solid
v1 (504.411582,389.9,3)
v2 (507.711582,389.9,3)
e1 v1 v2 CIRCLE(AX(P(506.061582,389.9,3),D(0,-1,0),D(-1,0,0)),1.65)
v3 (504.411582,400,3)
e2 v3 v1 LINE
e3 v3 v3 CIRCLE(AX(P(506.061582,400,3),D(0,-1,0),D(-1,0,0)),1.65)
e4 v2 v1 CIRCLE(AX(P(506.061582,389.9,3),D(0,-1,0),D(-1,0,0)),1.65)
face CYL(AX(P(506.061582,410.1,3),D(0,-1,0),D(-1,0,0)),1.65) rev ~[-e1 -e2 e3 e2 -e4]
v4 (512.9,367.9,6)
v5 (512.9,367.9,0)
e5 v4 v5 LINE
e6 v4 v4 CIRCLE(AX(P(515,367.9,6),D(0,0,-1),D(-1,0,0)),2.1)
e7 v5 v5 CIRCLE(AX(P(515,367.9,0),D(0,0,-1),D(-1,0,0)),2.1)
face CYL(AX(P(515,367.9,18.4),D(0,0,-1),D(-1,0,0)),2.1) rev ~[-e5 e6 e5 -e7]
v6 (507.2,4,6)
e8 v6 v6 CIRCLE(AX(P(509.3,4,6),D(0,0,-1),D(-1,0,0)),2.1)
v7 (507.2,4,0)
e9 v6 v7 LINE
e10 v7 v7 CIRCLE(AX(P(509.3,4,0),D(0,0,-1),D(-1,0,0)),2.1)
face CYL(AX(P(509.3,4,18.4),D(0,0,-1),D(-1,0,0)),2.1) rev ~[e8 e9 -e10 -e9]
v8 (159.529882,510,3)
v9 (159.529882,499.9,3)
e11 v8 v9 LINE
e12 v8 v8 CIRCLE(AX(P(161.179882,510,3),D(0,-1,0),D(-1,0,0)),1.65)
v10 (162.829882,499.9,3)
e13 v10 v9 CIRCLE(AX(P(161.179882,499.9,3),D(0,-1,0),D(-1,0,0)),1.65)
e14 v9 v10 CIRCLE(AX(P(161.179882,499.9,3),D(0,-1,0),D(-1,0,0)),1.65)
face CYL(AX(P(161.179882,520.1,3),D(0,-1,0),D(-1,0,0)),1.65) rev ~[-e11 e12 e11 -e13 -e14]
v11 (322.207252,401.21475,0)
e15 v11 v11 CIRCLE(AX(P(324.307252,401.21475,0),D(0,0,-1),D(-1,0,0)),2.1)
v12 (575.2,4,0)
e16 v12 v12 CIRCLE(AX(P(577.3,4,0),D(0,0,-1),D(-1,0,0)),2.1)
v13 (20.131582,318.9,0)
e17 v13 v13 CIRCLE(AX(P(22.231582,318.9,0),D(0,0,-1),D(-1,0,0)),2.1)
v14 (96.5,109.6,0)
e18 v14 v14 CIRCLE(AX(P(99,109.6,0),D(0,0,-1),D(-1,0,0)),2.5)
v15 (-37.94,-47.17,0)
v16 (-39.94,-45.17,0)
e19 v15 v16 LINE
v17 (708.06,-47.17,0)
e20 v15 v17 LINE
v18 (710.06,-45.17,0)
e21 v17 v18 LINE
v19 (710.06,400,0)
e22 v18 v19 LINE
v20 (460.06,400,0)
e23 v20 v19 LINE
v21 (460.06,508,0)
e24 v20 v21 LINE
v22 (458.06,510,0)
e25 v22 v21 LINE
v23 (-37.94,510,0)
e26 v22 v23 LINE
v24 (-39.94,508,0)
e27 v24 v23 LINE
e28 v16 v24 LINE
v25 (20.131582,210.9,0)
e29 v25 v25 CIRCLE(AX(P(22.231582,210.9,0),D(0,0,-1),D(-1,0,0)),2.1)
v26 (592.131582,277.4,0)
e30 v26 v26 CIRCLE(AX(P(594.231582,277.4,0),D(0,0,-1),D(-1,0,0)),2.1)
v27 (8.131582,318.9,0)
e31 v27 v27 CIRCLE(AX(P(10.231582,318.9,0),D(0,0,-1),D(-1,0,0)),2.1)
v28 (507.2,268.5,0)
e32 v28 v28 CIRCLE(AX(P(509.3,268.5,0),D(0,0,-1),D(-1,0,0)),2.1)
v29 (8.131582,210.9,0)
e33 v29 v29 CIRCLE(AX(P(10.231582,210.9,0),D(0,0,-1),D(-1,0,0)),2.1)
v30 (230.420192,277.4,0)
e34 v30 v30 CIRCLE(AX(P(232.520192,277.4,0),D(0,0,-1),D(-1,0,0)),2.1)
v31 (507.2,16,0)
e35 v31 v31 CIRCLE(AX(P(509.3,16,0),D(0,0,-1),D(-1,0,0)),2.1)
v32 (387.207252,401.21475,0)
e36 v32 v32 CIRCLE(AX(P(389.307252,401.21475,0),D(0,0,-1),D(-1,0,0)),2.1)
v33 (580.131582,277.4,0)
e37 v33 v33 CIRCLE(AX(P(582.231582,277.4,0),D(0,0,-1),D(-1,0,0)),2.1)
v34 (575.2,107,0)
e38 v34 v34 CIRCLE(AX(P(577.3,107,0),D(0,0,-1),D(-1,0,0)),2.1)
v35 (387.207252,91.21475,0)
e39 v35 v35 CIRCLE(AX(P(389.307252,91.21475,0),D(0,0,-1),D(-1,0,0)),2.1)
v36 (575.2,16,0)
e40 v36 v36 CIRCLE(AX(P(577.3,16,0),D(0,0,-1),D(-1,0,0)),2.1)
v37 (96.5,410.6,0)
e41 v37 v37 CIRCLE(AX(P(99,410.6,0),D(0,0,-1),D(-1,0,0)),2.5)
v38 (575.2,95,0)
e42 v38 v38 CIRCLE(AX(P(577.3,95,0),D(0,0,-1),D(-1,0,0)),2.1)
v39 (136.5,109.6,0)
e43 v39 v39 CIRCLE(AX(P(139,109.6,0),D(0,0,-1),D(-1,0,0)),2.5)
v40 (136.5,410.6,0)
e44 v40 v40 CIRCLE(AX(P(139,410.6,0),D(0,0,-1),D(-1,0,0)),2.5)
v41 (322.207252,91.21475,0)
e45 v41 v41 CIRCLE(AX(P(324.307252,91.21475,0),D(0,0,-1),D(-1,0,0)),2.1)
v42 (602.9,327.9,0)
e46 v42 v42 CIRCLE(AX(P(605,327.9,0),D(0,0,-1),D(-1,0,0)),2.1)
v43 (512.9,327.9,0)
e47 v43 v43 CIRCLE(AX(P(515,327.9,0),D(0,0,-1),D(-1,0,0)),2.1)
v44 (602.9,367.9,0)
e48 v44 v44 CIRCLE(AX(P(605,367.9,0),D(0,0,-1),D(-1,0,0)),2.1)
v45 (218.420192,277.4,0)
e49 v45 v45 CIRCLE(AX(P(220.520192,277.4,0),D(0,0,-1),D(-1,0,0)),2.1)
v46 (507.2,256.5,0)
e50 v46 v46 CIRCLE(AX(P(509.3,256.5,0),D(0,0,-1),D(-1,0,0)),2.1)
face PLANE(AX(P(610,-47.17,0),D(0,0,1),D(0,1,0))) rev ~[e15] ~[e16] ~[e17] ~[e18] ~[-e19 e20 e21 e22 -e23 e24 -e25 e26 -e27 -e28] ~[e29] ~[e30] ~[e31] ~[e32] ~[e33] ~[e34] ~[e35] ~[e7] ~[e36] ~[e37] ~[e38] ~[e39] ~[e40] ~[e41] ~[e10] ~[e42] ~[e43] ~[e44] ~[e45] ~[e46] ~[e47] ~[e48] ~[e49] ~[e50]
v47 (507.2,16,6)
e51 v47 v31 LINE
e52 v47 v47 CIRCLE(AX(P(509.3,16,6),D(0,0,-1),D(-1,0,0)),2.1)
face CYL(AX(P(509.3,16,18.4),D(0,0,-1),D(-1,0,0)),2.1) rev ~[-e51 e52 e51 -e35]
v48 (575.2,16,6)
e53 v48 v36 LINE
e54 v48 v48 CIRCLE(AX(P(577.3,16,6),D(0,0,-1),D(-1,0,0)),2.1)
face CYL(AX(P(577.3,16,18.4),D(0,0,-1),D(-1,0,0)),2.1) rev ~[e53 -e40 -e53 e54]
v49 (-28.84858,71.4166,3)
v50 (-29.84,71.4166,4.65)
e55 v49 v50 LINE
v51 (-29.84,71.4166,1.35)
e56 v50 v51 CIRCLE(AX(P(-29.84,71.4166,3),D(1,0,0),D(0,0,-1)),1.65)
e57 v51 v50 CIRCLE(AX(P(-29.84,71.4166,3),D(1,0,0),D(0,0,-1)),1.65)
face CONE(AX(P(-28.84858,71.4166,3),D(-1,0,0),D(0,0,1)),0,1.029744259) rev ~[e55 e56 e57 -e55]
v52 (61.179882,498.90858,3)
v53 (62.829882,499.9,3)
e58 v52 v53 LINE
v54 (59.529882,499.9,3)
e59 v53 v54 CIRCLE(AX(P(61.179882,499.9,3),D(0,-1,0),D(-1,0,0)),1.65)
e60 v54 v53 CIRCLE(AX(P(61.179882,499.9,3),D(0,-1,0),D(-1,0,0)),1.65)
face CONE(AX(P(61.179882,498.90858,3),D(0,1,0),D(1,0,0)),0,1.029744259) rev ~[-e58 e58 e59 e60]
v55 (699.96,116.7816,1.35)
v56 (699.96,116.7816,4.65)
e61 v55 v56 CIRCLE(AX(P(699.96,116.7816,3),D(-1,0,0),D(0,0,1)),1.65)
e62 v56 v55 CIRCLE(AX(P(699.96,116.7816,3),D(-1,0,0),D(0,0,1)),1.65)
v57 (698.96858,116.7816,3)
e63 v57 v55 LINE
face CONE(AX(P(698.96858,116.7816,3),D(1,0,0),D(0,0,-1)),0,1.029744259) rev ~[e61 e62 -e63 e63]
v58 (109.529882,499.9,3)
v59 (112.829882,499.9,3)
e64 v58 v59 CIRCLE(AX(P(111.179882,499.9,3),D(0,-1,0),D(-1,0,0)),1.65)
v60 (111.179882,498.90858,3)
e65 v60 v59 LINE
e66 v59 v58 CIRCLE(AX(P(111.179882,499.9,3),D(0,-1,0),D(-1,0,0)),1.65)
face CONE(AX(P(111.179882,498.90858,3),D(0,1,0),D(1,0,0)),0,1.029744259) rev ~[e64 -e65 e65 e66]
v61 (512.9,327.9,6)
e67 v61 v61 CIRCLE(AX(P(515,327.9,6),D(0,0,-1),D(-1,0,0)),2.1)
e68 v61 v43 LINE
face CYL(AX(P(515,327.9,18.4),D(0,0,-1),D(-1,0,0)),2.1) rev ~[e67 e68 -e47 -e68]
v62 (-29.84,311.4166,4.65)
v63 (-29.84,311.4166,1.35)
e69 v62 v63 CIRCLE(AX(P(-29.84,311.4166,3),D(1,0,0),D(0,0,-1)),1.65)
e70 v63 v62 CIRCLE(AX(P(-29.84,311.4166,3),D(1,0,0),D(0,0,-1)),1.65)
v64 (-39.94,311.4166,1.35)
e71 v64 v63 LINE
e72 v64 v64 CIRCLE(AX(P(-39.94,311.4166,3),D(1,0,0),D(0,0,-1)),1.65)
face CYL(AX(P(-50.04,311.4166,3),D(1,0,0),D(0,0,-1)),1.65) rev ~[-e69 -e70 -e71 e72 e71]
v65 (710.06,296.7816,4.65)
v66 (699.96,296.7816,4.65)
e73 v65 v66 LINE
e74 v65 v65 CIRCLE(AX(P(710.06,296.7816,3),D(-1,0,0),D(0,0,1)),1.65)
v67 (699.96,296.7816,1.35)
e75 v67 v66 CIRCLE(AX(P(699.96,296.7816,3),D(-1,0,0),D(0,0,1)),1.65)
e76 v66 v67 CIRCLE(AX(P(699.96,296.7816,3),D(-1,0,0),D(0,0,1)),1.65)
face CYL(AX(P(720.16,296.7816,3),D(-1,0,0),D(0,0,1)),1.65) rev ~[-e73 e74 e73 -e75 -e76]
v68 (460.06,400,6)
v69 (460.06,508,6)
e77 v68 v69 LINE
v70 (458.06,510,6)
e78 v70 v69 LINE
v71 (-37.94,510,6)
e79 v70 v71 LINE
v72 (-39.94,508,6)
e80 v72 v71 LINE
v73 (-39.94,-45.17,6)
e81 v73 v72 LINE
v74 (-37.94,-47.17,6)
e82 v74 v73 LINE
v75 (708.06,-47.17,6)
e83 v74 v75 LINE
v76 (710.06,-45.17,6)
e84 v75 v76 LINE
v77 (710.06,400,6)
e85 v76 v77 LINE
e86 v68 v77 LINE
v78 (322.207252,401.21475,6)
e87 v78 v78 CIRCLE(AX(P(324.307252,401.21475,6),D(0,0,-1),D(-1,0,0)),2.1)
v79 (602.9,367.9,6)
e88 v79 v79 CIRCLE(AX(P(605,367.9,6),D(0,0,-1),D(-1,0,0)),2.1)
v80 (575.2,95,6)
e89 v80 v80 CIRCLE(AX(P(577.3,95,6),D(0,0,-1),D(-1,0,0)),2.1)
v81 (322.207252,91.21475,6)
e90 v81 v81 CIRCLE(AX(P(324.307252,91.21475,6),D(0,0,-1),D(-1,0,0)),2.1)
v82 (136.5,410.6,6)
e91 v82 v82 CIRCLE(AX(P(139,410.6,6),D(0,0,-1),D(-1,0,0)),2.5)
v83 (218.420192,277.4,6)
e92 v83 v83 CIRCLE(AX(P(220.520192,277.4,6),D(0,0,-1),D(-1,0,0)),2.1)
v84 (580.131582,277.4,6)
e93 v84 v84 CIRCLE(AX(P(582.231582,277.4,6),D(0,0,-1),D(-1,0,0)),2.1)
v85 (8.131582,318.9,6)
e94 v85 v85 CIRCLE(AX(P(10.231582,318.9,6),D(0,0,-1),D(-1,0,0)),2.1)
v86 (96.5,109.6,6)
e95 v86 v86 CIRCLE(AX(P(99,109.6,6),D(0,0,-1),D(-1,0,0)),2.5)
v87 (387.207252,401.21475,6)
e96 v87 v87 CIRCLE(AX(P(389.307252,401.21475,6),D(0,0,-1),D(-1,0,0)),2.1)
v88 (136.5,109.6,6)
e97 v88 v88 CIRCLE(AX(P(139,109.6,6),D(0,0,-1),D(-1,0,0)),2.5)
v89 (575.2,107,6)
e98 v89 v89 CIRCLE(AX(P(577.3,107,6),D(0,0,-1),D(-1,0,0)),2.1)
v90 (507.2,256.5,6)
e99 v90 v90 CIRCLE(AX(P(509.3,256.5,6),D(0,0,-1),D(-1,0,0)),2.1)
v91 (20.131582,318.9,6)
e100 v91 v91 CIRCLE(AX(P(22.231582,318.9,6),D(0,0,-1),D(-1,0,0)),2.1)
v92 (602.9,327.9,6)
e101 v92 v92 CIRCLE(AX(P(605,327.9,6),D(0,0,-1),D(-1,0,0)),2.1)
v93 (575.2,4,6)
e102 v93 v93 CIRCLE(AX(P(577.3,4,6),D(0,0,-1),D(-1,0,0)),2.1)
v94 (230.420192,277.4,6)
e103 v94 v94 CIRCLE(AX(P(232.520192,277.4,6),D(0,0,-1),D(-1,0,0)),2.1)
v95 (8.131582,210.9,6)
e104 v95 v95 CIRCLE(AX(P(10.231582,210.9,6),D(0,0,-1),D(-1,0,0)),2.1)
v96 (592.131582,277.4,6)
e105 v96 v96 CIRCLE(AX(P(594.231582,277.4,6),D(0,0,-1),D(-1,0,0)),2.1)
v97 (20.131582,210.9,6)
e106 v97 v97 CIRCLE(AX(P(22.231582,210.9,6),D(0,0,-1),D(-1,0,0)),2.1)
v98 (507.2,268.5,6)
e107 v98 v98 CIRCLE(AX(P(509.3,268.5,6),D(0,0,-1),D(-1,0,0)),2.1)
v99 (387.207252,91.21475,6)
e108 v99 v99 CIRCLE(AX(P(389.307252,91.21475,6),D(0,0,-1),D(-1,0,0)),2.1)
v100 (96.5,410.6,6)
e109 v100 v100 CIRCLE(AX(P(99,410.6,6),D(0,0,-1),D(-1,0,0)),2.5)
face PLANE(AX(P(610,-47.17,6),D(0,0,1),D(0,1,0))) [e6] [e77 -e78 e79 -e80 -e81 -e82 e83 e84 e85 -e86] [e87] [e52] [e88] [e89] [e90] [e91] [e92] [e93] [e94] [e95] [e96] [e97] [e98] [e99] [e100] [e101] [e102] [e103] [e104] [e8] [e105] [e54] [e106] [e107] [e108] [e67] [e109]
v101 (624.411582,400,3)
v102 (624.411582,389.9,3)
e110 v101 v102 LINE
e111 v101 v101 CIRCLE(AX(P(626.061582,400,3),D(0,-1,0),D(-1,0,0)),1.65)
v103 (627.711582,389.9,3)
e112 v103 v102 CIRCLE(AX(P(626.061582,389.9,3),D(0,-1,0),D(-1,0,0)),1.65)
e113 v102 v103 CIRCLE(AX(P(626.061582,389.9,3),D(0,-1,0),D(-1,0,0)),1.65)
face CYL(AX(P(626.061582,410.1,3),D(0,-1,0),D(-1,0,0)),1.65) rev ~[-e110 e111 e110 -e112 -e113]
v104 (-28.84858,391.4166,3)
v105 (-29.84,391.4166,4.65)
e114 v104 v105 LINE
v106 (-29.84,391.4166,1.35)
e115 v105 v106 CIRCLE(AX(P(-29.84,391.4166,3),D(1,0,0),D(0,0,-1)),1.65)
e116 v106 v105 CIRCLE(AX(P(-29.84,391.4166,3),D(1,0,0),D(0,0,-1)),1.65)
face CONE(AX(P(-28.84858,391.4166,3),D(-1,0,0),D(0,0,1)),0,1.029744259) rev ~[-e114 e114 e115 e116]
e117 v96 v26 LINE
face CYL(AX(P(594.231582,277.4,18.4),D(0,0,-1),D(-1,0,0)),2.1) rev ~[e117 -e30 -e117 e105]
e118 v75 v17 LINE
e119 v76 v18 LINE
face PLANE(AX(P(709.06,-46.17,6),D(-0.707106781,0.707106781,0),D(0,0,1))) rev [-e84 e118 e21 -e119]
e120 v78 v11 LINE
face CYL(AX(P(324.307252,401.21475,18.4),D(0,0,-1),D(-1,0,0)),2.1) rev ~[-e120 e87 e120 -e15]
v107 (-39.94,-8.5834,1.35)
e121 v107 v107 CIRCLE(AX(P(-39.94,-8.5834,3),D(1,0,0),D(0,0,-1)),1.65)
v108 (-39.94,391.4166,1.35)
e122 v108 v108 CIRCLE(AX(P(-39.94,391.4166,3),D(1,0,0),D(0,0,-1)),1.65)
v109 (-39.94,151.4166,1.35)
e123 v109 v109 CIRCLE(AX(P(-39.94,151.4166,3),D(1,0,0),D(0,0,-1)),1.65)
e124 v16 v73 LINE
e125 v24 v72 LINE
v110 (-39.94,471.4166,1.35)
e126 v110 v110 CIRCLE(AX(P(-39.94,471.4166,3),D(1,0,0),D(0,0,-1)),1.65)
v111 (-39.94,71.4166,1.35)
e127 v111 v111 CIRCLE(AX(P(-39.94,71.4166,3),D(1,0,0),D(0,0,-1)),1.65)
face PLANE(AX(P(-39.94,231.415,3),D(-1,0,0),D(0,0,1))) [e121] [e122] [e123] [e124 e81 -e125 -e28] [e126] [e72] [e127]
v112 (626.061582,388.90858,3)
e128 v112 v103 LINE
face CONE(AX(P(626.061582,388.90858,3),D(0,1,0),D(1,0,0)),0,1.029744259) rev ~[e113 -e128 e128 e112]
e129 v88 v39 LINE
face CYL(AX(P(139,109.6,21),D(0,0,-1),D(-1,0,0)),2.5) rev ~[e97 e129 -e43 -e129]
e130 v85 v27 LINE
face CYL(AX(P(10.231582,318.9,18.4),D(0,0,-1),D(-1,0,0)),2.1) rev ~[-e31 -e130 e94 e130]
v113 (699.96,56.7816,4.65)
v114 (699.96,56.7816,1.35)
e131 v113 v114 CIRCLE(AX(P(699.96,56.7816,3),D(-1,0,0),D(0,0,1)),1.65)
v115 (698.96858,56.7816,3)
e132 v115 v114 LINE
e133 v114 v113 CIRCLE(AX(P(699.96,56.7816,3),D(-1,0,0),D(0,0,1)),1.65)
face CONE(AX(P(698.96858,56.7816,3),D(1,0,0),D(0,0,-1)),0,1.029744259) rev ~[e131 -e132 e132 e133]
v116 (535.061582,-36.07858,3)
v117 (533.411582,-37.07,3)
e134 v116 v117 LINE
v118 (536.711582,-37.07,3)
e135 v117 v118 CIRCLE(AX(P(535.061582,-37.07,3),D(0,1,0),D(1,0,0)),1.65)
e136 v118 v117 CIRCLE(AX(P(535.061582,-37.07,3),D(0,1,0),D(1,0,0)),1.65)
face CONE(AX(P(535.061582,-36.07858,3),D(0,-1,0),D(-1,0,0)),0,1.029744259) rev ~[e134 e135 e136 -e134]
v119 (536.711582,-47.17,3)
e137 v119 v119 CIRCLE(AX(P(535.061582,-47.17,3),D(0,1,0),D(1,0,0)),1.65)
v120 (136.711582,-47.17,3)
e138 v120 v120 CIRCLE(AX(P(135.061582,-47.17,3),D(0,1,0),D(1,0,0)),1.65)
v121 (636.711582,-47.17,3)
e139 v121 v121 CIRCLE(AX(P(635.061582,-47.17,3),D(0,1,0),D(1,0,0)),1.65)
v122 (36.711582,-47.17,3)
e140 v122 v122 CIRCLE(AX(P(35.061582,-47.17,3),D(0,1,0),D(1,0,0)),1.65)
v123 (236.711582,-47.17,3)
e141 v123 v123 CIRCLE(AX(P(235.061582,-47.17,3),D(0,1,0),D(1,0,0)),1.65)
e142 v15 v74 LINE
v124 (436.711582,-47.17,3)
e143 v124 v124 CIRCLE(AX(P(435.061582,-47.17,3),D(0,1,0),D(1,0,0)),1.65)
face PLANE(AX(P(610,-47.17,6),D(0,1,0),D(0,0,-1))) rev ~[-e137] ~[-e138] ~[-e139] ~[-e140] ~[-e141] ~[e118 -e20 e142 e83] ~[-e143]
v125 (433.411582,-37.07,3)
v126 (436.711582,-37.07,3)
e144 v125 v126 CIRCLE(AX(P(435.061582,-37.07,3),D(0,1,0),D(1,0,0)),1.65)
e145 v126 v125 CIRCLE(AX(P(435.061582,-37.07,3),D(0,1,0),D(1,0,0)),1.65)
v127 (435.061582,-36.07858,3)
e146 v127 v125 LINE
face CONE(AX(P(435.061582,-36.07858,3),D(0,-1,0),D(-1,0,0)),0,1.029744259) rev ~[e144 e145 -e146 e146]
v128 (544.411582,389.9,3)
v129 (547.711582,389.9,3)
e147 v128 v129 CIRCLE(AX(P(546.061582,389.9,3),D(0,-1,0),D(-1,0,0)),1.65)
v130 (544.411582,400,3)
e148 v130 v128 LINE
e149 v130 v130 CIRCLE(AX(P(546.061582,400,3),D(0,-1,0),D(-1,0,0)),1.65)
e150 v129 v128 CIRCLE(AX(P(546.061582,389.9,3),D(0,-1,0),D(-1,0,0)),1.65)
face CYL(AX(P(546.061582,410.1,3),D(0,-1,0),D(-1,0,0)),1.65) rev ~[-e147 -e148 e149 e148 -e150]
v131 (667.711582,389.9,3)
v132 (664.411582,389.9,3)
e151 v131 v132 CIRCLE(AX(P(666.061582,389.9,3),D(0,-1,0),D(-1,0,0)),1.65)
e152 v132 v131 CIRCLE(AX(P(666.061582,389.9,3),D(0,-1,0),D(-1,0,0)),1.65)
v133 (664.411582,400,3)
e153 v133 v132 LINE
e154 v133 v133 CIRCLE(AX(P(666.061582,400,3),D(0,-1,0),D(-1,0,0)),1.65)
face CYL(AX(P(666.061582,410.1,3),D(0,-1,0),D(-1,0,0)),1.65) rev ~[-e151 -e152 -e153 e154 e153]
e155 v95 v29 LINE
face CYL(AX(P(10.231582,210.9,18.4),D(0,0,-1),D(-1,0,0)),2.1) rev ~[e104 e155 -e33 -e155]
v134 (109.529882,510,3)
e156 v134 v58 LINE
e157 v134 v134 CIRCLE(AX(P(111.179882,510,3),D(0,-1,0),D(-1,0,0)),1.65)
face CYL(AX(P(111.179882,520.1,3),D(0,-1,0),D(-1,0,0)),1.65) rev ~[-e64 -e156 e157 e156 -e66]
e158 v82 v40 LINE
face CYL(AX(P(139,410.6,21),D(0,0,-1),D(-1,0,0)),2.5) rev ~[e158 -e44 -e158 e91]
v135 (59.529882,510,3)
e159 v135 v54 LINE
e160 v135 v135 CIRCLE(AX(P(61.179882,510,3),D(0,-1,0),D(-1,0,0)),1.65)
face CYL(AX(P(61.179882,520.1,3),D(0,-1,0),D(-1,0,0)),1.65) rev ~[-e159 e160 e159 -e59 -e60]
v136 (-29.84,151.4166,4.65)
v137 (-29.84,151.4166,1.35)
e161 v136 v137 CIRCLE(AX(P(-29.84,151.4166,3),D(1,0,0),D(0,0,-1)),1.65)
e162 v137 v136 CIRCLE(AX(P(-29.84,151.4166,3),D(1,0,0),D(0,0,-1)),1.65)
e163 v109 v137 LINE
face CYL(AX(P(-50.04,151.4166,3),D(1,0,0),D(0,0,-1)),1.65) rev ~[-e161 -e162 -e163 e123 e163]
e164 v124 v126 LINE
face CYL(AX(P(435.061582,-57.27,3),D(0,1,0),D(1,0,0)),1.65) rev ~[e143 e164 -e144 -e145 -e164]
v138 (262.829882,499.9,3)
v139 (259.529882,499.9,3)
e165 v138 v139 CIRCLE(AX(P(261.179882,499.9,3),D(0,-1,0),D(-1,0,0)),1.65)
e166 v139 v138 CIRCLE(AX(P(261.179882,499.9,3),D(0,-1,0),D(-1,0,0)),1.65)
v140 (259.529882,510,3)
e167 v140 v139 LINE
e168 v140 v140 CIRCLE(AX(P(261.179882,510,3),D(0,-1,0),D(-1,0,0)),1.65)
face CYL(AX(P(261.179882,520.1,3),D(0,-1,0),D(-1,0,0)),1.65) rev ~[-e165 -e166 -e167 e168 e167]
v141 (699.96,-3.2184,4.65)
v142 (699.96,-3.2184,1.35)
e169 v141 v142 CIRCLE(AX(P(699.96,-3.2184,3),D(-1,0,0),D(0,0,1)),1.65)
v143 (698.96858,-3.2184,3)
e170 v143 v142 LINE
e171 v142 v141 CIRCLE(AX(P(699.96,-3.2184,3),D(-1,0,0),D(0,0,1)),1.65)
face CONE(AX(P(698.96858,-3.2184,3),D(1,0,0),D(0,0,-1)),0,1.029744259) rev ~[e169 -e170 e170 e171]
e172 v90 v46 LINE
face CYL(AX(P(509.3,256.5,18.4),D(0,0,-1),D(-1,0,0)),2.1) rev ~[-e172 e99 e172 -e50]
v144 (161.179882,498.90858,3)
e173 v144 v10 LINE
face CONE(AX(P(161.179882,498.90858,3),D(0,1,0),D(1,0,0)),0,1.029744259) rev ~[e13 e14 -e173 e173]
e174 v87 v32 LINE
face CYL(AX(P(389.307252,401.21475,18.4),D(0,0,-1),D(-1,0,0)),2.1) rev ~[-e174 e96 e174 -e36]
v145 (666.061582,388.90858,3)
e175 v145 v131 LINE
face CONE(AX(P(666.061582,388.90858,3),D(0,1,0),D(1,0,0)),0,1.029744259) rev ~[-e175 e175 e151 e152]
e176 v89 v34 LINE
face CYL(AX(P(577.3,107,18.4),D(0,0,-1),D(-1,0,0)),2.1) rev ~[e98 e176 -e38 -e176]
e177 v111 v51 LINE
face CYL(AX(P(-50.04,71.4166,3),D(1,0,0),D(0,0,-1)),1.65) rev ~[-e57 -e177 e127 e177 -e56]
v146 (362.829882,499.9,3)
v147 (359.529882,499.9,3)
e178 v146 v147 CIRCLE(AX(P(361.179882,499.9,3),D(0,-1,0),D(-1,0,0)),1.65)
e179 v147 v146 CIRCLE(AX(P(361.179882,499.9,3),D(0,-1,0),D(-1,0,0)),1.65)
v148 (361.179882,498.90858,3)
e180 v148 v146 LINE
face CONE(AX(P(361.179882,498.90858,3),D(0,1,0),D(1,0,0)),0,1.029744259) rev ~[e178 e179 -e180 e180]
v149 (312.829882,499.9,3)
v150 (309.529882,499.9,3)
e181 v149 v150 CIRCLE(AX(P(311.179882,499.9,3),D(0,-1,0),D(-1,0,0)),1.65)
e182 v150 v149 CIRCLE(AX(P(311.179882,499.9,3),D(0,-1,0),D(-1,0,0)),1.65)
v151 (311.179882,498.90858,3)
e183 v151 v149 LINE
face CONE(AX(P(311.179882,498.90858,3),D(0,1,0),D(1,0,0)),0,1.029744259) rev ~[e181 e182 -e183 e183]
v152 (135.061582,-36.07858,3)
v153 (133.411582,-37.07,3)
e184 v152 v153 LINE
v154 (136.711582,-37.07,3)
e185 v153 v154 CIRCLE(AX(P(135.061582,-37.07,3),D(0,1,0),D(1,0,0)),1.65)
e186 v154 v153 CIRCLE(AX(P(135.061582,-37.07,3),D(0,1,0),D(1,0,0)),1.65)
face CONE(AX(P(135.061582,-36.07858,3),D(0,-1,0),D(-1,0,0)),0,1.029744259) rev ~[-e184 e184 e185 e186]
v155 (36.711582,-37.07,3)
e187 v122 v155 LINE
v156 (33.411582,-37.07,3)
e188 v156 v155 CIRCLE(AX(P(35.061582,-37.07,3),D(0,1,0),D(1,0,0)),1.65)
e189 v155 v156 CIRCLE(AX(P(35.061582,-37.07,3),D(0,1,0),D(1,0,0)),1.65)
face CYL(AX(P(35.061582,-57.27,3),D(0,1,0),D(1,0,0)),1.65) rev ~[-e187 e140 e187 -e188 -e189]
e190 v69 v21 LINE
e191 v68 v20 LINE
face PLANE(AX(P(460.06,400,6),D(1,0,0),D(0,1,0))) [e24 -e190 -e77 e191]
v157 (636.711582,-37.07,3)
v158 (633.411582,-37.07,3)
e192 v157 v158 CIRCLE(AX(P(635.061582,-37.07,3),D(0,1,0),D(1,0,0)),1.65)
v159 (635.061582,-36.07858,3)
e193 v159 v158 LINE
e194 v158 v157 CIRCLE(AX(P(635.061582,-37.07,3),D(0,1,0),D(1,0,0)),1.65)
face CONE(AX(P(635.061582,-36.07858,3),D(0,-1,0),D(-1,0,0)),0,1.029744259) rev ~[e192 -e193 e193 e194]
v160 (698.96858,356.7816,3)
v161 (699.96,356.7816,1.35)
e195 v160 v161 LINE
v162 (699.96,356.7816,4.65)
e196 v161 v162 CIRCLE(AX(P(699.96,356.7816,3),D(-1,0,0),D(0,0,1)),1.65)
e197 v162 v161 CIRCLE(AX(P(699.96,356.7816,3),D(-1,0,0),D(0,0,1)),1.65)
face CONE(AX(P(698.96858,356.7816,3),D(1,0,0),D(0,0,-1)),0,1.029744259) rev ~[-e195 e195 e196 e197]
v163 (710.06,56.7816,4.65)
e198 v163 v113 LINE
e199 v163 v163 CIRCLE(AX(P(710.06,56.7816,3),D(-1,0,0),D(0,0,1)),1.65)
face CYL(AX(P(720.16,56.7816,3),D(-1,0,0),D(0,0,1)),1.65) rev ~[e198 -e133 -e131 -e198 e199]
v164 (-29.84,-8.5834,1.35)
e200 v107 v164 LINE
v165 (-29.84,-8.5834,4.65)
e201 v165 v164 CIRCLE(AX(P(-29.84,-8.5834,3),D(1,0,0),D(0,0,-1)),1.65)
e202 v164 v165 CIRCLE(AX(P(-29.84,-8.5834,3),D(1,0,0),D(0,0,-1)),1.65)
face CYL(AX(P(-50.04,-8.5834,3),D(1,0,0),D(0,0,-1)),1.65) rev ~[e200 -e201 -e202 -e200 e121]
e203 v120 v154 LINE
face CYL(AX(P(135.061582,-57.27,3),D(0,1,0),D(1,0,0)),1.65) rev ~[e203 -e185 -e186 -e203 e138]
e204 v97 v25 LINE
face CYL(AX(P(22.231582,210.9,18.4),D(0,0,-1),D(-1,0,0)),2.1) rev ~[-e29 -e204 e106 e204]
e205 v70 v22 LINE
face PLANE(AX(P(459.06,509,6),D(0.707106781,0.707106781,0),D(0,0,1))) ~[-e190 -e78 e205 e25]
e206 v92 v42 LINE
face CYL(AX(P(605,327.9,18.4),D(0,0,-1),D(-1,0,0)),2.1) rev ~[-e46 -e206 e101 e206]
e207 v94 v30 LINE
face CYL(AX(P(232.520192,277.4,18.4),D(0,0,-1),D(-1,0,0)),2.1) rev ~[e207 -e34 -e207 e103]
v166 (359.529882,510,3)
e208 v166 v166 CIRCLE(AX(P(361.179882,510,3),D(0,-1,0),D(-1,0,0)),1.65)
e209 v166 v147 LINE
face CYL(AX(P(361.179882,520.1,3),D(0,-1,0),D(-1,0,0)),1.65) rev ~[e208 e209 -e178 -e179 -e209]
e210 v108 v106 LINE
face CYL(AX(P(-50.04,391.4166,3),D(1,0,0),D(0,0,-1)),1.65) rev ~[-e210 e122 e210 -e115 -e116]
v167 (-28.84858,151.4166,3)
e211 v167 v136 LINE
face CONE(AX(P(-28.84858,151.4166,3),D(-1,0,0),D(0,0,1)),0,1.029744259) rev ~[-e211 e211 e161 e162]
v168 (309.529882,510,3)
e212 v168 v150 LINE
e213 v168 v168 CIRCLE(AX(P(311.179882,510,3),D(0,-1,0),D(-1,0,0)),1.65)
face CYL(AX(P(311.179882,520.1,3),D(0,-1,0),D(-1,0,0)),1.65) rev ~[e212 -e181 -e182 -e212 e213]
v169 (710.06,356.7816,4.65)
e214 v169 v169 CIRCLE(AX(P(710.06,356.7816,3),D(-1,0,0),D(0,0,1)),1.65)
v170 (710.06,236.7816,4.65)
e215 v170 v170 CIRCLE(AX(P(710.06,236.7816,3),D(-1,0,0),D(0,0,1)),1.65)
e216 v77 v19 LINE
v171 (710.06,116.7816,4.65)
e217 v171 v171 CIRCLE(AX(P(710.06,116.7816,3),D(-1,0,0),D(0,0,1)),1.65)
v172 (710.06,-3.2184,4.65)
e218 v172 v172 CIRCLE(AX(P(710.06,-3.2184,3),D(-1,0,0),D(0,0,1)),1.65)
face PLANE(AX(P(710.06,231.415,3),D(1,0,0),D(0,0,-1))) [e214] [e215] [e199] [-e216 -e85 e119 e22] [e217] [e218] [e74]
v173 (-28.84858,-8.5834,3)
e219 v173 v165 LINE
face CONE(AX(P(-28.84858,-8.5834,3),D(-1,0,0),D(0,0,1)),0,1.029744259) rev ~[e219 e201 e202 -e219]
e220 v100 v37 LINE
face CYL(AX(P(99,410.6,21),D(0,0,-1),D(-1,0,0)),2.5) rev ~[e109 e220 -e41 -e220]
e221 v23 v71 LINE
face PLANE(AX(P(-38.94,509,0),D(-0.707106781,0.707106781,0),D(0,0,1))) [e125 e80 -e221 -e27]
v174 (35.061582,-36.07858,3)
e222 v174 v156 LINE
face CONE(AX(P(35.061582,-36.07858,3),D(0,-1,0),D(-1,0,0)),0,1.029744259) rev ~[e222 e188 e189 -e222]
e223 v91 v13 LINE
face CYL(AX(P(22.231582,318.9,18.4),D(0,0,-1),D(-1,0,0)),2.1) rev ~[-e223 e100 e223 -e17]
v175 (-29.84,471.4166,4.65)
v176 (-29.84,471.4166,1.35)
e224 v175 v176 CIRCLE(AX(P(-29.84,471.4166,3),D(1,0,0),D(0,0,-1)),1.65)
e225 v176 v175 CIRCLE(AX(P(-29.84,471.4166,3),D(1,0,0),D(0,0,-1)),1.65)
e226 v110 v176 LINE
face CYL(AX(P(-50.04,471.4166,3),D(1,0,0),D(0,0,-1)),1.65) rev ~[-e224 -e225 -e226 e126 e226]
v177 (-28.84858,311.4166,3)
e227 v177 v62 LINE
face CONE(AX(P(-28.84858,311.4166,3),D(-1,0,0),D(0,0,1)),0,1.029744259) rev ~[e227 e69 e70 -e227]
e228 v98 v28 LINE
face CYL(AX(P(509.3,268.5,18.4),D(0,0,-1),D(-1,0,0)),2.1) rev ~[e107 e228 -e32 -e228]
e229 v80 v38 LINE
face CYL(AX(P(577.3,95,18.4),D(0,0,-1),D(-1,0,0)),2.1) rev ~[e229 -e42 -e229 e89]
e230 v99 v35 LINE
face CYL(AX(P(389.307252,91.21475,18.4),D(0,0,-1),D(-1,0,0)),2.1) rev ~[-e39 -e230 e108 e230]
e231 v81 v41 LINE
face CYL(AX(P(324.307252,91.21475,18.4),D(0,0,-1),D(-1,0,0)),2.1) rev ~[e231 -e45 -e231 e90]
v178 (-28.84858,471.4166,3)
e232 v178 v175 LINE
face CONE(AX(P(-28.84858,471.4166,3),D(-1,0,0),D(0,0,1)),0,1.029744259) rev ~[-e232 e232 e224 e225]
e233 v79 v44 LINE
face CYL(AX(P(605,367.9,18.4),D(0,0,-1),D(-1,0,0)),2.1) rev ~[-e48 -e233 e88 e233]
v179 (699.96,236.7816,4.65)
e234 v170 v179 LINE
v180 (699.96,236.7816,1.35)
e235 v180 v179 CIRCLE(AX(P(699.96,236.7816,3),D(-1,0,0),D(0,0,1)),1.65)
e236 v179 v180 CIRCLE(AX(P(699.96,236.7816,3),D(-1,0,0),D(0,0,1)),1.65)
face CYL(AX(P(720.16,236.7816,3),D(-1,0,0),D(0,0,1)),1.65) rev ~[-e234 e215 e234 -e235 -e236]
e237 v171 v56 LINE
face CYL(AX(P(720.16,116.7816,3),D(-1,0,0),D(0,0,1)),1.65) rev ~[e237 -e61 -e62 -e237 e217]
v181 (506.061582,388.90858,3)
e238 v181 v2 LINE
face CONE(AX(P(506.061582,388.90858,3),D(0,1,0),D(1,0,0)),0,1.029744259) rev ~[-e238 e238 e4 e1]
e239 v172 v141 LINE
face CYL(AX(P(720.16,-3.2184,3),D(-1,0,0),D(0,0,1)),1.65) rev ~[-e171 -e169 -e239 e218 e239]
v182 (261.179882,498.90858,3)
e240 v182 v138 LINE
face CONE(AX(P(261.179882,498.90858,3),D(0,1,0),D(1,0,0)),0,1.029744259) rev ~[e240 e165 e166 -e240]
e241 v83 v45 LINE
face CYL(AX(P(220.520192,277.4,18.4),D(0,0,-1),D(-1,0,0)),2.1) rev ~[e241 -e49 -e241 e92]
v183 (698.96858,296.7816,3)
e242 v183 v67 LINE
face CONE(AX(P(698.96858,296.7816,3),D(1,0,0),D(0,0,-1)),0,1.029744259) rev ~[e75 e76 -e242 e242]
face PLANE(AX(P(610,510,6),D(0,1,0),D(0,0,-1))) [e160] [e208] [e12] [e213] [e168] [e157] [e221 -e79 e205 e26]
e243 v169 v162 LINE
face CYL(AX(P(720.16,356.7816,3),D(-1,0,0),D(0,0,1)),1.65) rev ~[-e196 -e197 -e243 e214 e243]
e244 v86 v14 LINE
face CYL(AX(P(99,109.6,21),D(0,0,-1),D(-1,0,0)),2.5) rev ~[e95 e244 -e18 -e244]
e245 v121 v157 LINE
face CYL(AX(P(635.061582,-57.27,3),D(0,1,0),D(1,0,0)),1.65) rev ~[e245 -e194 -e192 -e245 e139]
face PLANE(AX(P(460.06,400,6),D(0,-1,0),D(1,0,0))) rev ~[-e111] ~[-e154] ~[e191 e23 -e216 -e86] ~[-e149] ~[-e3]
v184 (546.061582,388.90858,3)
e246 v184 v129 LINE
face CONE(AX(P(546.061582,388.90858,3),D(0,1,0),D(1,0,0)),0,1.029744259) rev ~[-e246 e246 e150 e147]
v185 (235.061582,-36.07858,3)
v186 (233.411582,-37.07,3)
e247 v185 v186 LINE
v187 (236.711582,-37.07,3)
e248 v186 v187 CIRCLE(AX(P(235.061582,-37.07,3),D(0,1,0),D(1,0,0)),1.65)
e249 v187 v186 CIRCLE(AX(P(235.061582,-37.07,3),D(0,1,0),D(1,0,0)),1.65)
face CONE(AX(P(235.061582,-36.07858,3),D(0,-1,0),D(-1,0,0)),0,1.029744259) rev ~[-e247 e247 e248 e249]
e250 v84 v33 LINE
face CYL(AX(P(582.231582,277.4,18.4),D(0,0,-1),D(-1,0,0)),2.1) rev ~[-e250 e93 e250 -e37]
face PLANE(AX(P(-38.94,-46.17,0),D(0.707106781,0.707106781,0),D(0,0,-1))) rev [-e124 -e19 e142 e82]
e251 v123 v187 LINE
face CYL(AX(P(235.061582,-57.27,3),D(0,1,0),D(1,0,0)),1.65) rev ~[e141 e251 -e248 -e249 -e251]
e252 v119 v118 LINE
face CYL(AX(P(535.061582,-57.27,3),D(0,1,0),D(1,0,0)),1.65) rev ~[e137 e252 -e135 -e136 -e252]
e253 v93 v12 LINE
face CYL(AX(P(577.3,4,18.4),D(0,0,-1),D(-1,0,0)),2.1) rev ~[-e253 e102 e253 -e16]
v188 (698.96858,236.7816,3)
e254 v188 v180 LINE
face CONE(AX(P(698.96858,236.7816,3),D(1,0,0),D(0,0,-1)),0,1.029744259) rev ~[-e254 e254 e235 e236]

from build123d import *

# Parameters (mm, degrees)
SKETCH_1_W             = 610
SKETCH_1_H             = 420
EXTRUDE_1_DEPTH        = 6
HOLE_WIZARD_M6_1_D     = 5
HOLE_WIZARD_M6_1_DEPTH = 15
HOLE_WIZARD_M6_1_TIP   = 1.502151548
HOLE_WIZARD_M5_1_D     = 4.2
HOLE_WIZARD_M5_1_DEPTH = 12.4
HOLE_WIZARD_M5_1_TIP   = 1.2618073
HOLE_WIZARD_M5_2_D     = 4.2
HOLE_WIZARD_M5_2_DEPTH = 12.4
HOLE_WIZARD_M5_2_TIP   = 1.2618073
HOLE_WIZARD_M6_2_D     = 5
HOLE_WIZARD_M6_2_DEPTH = 15
HOLE_WIZARD_M6_2_TIP   = 1.502151548
HOLE_WIZARD_M5_3_D     = 4.2
HOLE_WIZARD_M5_3_DEPTH = 12.4
HOLE_WIZARD_M5_3_TIP   = 1.2618073
HOLE_WIZARD_M5_4_D     = 4.2
HOLE_WIZARD_M5_4_DEPTH = 12.4
HOLE_WIZARD_M5_4_TIP   = 1.2618073
HOLE_WIZARD_M5_5_D     = 4.2
HOLE_WIZARD_M5_5_DEPTH = 12.4
HOLE_WIZARD_M5_5_TIP   = 1.2618073
HOLE_WIZARD_M5_6_D     = 4.2
HOLE_WIZARD_M5_6_DEPTH = 12.4
HOLE_WIZARD_M5_6_TIP   = 1.2618073
HOLE_WIZARD_M5_7_D     = 4.2
HOLE_WIZARD_M5_7_DEPTH = 12.4
HOLE_WIZARD_M5_7_TIP   = 1.2618073
SKETCH_22_W            = 610
SKETCH_22_H            = 6
EXTRUDE_2_DEPTH        = 47.17
SKETCH_23_W            = 610
SKETCH_23_H            = 6
EXTRUDE_3_DEPTH        = 90
SKETCH_24_W            = 6
SKETCH_24_H            = 557.17
EXTRUDE_4_DEPTH        = 39.94
SKETCH_25_W            = 6
SKETCH_25_H            = 557.17
EXTRUDE_5_DEPTH        = 100.06
SKETCH_26_W            = 250
SKETCH_26_H            = 110
CUT_EXTRUDE_1_DEPTH    = 100.06
CHAMFER_2_SIZE         = 2
CHAMFER_3_SIZE         = 2
CHAMFER_4_SIZE         = 2
CHAMFER_5_SIZE         = 2
HOLE_WIZARD_M4_1_D     = 3.3
HOLE_WIZARD_M4_1_DEPTH = 10.1
HOLE_WIZARD_M4_1_TIP   = 0.991420021
HOLE_WIZARD_M4_2_D     = 3.3
HOLE_WIZARD_M4_2_DEPTH = 10.1
HOLE_WIZARD_M4_2_TIP   = 0.991420021
HOLE_WIZARD_M4_3_D     = 3.3
HOLE_WIZARD_M4_3_DEPTH = 10.1
HOLE_WIZARD_M4_3_TIP   = 0.991420021
HOLE_WIZARD_M4_4_D     = 3.3
HOLE_WIZARD_M4_4_DEPTH = 10.1
HOLE_WIZARD_M4_4_TIP   = 0.991420021
HOLE_WIZARD_M4_5_D     = 3.3
HOLE_WIZARD_M4_5_DEPTH = 10.1
HOLE_WIZARD_M4_5_TIP   = 0.991420021


with BuildPart() as part:
    # 草图1 → 凸台-拉伸1 (new body)
    with BuildSketch(Plane.XY):
        with Locations((305, 210)):
            Rectangle(SKETCH_1_W, SKETCH_1_H)
    extrude(amount=EXTRUDE_1_DEPTH)

    # M6 螺纹孔1
    with Locations(Plane.XY.offset(6)):
        with Locations((99, 410.6), (139, 410.6)):
            Hole(HOLE_WIZARD_M6_1_D / 2, depth=HOLE_WIZARD_M6_1_DEPTH)
            with Locations((0, 0, -(HOLE_WIZARD_M6_1_DEPTH + HOLE_WIZARD_M6_1_TIP / 2))):  # 118° drill point
                Cone(0, HOLE_WIZARD_M6_1_D / 2, HOLE_WIZARD_M6_1_TIP, mode=Mode.SUBTRACT)

    # M5 螺纹孔1
    with Locations(Plane.XY.offset(6)):
        with Locations((10.231581543, 318.9), (22.231581543, 318.9)):
            Hole(HOLE_WIZARD_M5_1_D / 2, depth=HOLE_WIZARD_M5_1_DEPTH)
            with Locations((0, 0, -(HOLE_WIZARD_M5_1_DEPTH + HOLE_WIZARD_M5_1_TIP / 2))):  # 118° drill point
                Cone(0, HOLE_WIZARD_M5_1_D / 2, HOLE_WIZARD_M5_1_TIP, mode=Mode.SUBTRACT)

    # M5 螺纹孔2
    with Locations(Plane.XY.offset(6)):
        with Locations((10.231581543, 210.9), (22.231581543, 210.9)):
            Hole(HOLE_WIZARD_M5_2_D / 2, depth=HOLE_WIZARD_M5_2_DEPTH)
            with Locations((0, 0, -(HOLE_WIZARD_M5_2_DEPTH + HOLE_WIZARD_M5_2_TIP / 2))):  # 118° drill point
                Cone(0, HOLE_WIZARD_M5_2_D / 2, HOLE_WIZARD_M5_2_TIP, mode=Mode.SUBTRACT)

    # M6 螺纹孔2
    with Locations(Plane.XY.offset(6)):
        with Locations((99, 109.6), (139, 109.6)):
            Hole(HOLE_WIZARD_M6_2_D / 2, depth=HOLE_WIZARD_M6_2_DEPTH)
            with Locations((0, 0, -(HOLE_WIZARD_M6_2_DEPTH + HOLE_WIZARD_M6_2_TIP / 2))):  # 118° drill point
                Cone(0, HOLE_WIZARD_M6_2_D / 2, HOLE_WIZARD_M6_2_TIP, mode=Mode.SUBTRACT)

    # M5 螺纹孔3
    with Locations(Plane.XY.offset(6)):
        with Locations((515, 367.9), (515, 327.9), (605, 327.9), (605, 367.9)):
            Hole(HOLE_WIZARD_M5_3_D / 2, depth=HOLE_WIZARD_M5_3_DEPTH)
            with Locations((0, 0, -(HOLE_WIZARD_M5_3_DEPTH + HOLE_WIZARD_M5_3_TIP / 2))):  # 118° drill point
                Cone(0, HOLE_WIZARD_M5_3_D / 2, HOLE_WIZARD_M5_3_TIP, mode=Mode.SUBTRACT)

    # M5 螺纹孔4
    with Locations(Plane.XY.offset(6)):
        with Locations((582.231581543, 277.4), (594.231581543, 277.4), (509.3, 268.5), (509.3, 256.5), (509.3, 16), (509.3, 4), (577.3, 16), (577.3, 4), (577.3, 95), (577.3, 107)):
            Hole(HOLE_WIZARD_M5_4_D / 2, depth=HOLE_WIZARD_M5_4_DEPTH)
            with Locations((0, 0, -(HOLE_WIZARD_M5_4_DEPTH + HOLE_WIZARD_M5_4_TIP / 2))):  # 118° drill point
                Cone(0, HOLE_WIZARD_M5_4_D / 2, HOLE_WIZARD_M5_4_TIP, mode=Mode.SUBTRACT)

    # M5 螺纹孔5
    with Locations(Plane.XY.offset(6)):
        with Locations((220.520192359, 277.4), (232.520192359, 277.4)):
            Hole(HOLE_WIZARD_M5_5_D / 2, depth=HOLE_WIZARD_M5_5_DEPTH)
            with Locations((0, 0, -(HOLE_WIZARD_M5_5_DEPTH + HOLE_WIZARD_M5_5_TIP / 2))):  # 118° drill point
                Cone(0, HOLE_WIZARD_M5_5_D / 2, HOLE_WIZARD_M5_5_TIP, mode=Mode.SUBTRACT)

    # M5 螺纹孔6
    with Locations(Plane.XY.offset(6)):
        with Locations((324.3072517, 91.214749506), (389.3072517, 91.214749506)):
            Hole(HOLE_WIZARD_M5_6_D / 2, depth=HOLE_WIZARD_M5_6_DEPTH)
            with Locations((0, 0, -(HOLE_WIZARD_M5_6_DEPTH + HOLE_WIZARD_M5_6_TIP / 2))):  # 118° drill point
                Cone(0, HOLE_WIZARD_M5_6_D / 2, HOLE_WIZARD_M5_6_TIP, mode=Mode.SUBTRACT)

    # M5 螺纹孔7
    with Locations(Plane.XY.offset(6)):
        with Locations((324.3072517, 401.214749506), (389.3072517, 401.214749506)):
            Hole(HOLE_WIZARD_M5_7_D / 2, depth=HOLE_WIZARD_M5_7_DEPTH)
            with Locations((0, 0, -(HOLE_WIZARD_M5_7_DEPTH + HOLE_WIZARD_M5_7_TIP / 2))):  # 118° drill point
                Cone(0, HOLE_WIZARD_M5_7_D / 2, HOLE_WIZARD_M5_7_TIP, mode=Mode.SUBTRACT)

    # 草图22 → 凸台-拉伸2 (add)
    with BuildSketch(Plane.XZ):
        with Locations((305, 3)):
            Rectangle(SKETCH_22_W, SKETCH_22_H)
    extrude(amount=EXTRUDE_2_DEPTH)

    # 草图23 → 凸台-拉伸3 (add)
    with BuildSketch(Plane(origin=(0, 420, 0), x_dir=(1, 0, 0), z_dir=(0, 1, 0))):
        with Locations((305, -3)):
            Rectangle(SKETCH_23_W, SKETCH_23_H)
    extrude(amount=EXTRUDE_3_DEPTH)

    # 草图24 → 凸台-拉伸4 (add)
    with BuildSketch(Plane.ZY):
        with Locations((3, 231.415)):
            Rectangle(SKETCH_24_W, SKETCH_24_H)
    extrude(amount=EXTRUDE_4_DEPTH)

    # 草图25 → 凸台-拉伸5 (add)
    with BuildSketch(Plane(origin=(610, 0, 0), x_dir=(0, 0, -1), z_dir=(1, 0, 0))):
        with Locations((-3, 231.415)):
            Rectangle(SKETCH_25_W, SKETCH_25_H)
    extrude(amount=EXTRUDE_5_DEPTH)

    # 草图26 → 切除-拉伸1 (cut)
    with BuildSketch(Plane.XY.offset(6)):
        with Locations((585.06, 455)):
            Rectangle(SKETCH_26_W, SKETCH_26_H)
    extrude(amount=-CUT_EXTRUDE_1_DEPTH, mode=Mode.SUBTRACT)

    # 倒角2
    chamfer_2_edges = [part.edges().sort_by_distance(p)[0] for p in [
        (710.06, -47.17, 3),
    ]]
    chamfer(chamfer_2_edges, length=CHAMFER_2_SIZE)

    # 倒角3
    chamfer_3_edges = [part.edges().sort_by_distance(p)[0] for p in [
        (-39.94, -47.17, 3),
    ]]
    chamfer(chamfer_3_edges, length=CHAMFER_3_SIZE)

    # 倒角4
    chamfer_4_edges = [part.edges().sort_by_distance(p)[0] for p in [
        (-39.94, 510, 3),
    ]]
    chamfer(chamfer_4_edges, length=CHAMFER_4_SIZE)

    # 倒角5
    chamfer_5_edges = [part.edges().sort_by_distance(p)[0] for p in [
        (460.06, 510, 3),
    ]]
    chamfer(chamfer_5_edges, length=CHAMFER_5_SIZE)

    # M4 螺纹孔1
    with Locations(Plane(origin=(0, -47.17, 0), x_dir=(-1, 0, 0), z_dir=(0, -1, 0))):
        with Locations((-35.061581543, -3), (-135.061581543, -3), (-235.061581543, -3), (-435.061581543, -3), (-535.061581543, -3), (-635.061581543, -3)):
            Hole(HOLE_WIZARD_M4_1_D / 2, depth=HOLE_WIZARD_M4_1_DEPTH)
            with Locations((0, 0, -(HOLE_WIZARD_M4_1_DEPTH + HOLE_WIZARD_M4_1_TIP / 2))):  # 118° drill point
                Cone(0, HOLE_WIZARD_M4_1_D / 2, HOLE_WIZARD_M4_1_TIP, mode=Mode.SUBTRACT)

    # M4 螺纹孔2
    with Locations(Plane.ZY.offset(39.94)):
        with Locations((3, 471.4166), (3, 391.4166), (3, 311.4166), (3, 151.4166), (3, 71.4166), (3, -8.5834)):
            Hole(HOLE_WIZARD_M4_2_D / 2, depth=HOLE_WIZARD_M4_2_DEPTH)
            with Locations((0, 0, -(HOLE_WIZARD_M4_2_DEPTH + HOLE_WIZARD_M4_2_TIP / 2))):  # 118° drill point
                Cone(0, HOLE_WIZARD_M4_2_D / 2, HOLE_WIZARD_M4_2_TIP, mode=Mode.SUBTRACT)

    # M4 螺纹孔3
    with Locations(Plane(origin=(0, 510, 0), x_dir=(1, 0, 0), z_dir=(0, 1, 0))):
        with Locations((361.179881543, -3), (311.179881543, -3), (261.179881543, -3), (161.179881543, -3), (111.179881543, -3), (61.179881543, -3)):
            Hole(HOLE_WIZARD_M4_3_D / 2, depth=HOLE_WIZARD_M4_3_DEPTH)
            with Locations((0, 0, -(HOLE_WIZARD_M4_3_DEPTH + HOLE_WIZARD_M4_3_TIP / 2))):  # 118° drill point
                Cone(0, HOLE_WIZARD_M4_3_D / 2, HOLE_WIZARD_M4_3_TIP, mode=Mode.SUBTRACT)

    # M4 螺纹孔4
    with Locations(Plane(origin=(710.06, 0, 0), x_dir=(0, 0, -1), z_dir=(1, 0, 0))):
        with Locations((-3, -3.2184), (-3, 56.7816), (-3, 116.7816), (-3, 236.7816), (-3, 296.7816), (-3, 356.7816)):
            Hole(HOLE_WIZARD_M4_4_D / 2, depth=HOLE_WIZARD_M4_4_DEPTH)
            with Locations((0, 0, -(HOLE_WIZARD_M4_4_DEPTH + HOLE_WIZARD_M4_4_TIP / 2))):  # 118° drill point
                Cone(0, HOLE_WIZARD_M4_4_D / 2, HOLE_WIZARD_M4_4_TIP, mode=Mode.SUBTRACT)

    # M4 螺纹孔5
    with Locations(Plane(origin=(0, 400, 0), x_dir=(1, 0, 0), z_dir=(0, 1, 0))):
        with Locations((666.061581543, -3), (626.061581543, -3), (546.061581543, -3), (506.061581543, -3)):
            Hole(HOLE_WIZARD_M4_5_D / 2, depth=HOLE_WIZARD_M4_5_DEPTH)
            with Locations((0, 0, -(HOLE_WIZARD_M4_5_DEPTH + HOLE_WIZARD_M4_5_TIP / 2))):  # 118° drill point
                Cone(0, HOLE_WIZARD_M4_5_D / 2, HOLE_WIZARD_M4_5_TIP, mode=Mode.SUBTRACT)


solid = part.part
